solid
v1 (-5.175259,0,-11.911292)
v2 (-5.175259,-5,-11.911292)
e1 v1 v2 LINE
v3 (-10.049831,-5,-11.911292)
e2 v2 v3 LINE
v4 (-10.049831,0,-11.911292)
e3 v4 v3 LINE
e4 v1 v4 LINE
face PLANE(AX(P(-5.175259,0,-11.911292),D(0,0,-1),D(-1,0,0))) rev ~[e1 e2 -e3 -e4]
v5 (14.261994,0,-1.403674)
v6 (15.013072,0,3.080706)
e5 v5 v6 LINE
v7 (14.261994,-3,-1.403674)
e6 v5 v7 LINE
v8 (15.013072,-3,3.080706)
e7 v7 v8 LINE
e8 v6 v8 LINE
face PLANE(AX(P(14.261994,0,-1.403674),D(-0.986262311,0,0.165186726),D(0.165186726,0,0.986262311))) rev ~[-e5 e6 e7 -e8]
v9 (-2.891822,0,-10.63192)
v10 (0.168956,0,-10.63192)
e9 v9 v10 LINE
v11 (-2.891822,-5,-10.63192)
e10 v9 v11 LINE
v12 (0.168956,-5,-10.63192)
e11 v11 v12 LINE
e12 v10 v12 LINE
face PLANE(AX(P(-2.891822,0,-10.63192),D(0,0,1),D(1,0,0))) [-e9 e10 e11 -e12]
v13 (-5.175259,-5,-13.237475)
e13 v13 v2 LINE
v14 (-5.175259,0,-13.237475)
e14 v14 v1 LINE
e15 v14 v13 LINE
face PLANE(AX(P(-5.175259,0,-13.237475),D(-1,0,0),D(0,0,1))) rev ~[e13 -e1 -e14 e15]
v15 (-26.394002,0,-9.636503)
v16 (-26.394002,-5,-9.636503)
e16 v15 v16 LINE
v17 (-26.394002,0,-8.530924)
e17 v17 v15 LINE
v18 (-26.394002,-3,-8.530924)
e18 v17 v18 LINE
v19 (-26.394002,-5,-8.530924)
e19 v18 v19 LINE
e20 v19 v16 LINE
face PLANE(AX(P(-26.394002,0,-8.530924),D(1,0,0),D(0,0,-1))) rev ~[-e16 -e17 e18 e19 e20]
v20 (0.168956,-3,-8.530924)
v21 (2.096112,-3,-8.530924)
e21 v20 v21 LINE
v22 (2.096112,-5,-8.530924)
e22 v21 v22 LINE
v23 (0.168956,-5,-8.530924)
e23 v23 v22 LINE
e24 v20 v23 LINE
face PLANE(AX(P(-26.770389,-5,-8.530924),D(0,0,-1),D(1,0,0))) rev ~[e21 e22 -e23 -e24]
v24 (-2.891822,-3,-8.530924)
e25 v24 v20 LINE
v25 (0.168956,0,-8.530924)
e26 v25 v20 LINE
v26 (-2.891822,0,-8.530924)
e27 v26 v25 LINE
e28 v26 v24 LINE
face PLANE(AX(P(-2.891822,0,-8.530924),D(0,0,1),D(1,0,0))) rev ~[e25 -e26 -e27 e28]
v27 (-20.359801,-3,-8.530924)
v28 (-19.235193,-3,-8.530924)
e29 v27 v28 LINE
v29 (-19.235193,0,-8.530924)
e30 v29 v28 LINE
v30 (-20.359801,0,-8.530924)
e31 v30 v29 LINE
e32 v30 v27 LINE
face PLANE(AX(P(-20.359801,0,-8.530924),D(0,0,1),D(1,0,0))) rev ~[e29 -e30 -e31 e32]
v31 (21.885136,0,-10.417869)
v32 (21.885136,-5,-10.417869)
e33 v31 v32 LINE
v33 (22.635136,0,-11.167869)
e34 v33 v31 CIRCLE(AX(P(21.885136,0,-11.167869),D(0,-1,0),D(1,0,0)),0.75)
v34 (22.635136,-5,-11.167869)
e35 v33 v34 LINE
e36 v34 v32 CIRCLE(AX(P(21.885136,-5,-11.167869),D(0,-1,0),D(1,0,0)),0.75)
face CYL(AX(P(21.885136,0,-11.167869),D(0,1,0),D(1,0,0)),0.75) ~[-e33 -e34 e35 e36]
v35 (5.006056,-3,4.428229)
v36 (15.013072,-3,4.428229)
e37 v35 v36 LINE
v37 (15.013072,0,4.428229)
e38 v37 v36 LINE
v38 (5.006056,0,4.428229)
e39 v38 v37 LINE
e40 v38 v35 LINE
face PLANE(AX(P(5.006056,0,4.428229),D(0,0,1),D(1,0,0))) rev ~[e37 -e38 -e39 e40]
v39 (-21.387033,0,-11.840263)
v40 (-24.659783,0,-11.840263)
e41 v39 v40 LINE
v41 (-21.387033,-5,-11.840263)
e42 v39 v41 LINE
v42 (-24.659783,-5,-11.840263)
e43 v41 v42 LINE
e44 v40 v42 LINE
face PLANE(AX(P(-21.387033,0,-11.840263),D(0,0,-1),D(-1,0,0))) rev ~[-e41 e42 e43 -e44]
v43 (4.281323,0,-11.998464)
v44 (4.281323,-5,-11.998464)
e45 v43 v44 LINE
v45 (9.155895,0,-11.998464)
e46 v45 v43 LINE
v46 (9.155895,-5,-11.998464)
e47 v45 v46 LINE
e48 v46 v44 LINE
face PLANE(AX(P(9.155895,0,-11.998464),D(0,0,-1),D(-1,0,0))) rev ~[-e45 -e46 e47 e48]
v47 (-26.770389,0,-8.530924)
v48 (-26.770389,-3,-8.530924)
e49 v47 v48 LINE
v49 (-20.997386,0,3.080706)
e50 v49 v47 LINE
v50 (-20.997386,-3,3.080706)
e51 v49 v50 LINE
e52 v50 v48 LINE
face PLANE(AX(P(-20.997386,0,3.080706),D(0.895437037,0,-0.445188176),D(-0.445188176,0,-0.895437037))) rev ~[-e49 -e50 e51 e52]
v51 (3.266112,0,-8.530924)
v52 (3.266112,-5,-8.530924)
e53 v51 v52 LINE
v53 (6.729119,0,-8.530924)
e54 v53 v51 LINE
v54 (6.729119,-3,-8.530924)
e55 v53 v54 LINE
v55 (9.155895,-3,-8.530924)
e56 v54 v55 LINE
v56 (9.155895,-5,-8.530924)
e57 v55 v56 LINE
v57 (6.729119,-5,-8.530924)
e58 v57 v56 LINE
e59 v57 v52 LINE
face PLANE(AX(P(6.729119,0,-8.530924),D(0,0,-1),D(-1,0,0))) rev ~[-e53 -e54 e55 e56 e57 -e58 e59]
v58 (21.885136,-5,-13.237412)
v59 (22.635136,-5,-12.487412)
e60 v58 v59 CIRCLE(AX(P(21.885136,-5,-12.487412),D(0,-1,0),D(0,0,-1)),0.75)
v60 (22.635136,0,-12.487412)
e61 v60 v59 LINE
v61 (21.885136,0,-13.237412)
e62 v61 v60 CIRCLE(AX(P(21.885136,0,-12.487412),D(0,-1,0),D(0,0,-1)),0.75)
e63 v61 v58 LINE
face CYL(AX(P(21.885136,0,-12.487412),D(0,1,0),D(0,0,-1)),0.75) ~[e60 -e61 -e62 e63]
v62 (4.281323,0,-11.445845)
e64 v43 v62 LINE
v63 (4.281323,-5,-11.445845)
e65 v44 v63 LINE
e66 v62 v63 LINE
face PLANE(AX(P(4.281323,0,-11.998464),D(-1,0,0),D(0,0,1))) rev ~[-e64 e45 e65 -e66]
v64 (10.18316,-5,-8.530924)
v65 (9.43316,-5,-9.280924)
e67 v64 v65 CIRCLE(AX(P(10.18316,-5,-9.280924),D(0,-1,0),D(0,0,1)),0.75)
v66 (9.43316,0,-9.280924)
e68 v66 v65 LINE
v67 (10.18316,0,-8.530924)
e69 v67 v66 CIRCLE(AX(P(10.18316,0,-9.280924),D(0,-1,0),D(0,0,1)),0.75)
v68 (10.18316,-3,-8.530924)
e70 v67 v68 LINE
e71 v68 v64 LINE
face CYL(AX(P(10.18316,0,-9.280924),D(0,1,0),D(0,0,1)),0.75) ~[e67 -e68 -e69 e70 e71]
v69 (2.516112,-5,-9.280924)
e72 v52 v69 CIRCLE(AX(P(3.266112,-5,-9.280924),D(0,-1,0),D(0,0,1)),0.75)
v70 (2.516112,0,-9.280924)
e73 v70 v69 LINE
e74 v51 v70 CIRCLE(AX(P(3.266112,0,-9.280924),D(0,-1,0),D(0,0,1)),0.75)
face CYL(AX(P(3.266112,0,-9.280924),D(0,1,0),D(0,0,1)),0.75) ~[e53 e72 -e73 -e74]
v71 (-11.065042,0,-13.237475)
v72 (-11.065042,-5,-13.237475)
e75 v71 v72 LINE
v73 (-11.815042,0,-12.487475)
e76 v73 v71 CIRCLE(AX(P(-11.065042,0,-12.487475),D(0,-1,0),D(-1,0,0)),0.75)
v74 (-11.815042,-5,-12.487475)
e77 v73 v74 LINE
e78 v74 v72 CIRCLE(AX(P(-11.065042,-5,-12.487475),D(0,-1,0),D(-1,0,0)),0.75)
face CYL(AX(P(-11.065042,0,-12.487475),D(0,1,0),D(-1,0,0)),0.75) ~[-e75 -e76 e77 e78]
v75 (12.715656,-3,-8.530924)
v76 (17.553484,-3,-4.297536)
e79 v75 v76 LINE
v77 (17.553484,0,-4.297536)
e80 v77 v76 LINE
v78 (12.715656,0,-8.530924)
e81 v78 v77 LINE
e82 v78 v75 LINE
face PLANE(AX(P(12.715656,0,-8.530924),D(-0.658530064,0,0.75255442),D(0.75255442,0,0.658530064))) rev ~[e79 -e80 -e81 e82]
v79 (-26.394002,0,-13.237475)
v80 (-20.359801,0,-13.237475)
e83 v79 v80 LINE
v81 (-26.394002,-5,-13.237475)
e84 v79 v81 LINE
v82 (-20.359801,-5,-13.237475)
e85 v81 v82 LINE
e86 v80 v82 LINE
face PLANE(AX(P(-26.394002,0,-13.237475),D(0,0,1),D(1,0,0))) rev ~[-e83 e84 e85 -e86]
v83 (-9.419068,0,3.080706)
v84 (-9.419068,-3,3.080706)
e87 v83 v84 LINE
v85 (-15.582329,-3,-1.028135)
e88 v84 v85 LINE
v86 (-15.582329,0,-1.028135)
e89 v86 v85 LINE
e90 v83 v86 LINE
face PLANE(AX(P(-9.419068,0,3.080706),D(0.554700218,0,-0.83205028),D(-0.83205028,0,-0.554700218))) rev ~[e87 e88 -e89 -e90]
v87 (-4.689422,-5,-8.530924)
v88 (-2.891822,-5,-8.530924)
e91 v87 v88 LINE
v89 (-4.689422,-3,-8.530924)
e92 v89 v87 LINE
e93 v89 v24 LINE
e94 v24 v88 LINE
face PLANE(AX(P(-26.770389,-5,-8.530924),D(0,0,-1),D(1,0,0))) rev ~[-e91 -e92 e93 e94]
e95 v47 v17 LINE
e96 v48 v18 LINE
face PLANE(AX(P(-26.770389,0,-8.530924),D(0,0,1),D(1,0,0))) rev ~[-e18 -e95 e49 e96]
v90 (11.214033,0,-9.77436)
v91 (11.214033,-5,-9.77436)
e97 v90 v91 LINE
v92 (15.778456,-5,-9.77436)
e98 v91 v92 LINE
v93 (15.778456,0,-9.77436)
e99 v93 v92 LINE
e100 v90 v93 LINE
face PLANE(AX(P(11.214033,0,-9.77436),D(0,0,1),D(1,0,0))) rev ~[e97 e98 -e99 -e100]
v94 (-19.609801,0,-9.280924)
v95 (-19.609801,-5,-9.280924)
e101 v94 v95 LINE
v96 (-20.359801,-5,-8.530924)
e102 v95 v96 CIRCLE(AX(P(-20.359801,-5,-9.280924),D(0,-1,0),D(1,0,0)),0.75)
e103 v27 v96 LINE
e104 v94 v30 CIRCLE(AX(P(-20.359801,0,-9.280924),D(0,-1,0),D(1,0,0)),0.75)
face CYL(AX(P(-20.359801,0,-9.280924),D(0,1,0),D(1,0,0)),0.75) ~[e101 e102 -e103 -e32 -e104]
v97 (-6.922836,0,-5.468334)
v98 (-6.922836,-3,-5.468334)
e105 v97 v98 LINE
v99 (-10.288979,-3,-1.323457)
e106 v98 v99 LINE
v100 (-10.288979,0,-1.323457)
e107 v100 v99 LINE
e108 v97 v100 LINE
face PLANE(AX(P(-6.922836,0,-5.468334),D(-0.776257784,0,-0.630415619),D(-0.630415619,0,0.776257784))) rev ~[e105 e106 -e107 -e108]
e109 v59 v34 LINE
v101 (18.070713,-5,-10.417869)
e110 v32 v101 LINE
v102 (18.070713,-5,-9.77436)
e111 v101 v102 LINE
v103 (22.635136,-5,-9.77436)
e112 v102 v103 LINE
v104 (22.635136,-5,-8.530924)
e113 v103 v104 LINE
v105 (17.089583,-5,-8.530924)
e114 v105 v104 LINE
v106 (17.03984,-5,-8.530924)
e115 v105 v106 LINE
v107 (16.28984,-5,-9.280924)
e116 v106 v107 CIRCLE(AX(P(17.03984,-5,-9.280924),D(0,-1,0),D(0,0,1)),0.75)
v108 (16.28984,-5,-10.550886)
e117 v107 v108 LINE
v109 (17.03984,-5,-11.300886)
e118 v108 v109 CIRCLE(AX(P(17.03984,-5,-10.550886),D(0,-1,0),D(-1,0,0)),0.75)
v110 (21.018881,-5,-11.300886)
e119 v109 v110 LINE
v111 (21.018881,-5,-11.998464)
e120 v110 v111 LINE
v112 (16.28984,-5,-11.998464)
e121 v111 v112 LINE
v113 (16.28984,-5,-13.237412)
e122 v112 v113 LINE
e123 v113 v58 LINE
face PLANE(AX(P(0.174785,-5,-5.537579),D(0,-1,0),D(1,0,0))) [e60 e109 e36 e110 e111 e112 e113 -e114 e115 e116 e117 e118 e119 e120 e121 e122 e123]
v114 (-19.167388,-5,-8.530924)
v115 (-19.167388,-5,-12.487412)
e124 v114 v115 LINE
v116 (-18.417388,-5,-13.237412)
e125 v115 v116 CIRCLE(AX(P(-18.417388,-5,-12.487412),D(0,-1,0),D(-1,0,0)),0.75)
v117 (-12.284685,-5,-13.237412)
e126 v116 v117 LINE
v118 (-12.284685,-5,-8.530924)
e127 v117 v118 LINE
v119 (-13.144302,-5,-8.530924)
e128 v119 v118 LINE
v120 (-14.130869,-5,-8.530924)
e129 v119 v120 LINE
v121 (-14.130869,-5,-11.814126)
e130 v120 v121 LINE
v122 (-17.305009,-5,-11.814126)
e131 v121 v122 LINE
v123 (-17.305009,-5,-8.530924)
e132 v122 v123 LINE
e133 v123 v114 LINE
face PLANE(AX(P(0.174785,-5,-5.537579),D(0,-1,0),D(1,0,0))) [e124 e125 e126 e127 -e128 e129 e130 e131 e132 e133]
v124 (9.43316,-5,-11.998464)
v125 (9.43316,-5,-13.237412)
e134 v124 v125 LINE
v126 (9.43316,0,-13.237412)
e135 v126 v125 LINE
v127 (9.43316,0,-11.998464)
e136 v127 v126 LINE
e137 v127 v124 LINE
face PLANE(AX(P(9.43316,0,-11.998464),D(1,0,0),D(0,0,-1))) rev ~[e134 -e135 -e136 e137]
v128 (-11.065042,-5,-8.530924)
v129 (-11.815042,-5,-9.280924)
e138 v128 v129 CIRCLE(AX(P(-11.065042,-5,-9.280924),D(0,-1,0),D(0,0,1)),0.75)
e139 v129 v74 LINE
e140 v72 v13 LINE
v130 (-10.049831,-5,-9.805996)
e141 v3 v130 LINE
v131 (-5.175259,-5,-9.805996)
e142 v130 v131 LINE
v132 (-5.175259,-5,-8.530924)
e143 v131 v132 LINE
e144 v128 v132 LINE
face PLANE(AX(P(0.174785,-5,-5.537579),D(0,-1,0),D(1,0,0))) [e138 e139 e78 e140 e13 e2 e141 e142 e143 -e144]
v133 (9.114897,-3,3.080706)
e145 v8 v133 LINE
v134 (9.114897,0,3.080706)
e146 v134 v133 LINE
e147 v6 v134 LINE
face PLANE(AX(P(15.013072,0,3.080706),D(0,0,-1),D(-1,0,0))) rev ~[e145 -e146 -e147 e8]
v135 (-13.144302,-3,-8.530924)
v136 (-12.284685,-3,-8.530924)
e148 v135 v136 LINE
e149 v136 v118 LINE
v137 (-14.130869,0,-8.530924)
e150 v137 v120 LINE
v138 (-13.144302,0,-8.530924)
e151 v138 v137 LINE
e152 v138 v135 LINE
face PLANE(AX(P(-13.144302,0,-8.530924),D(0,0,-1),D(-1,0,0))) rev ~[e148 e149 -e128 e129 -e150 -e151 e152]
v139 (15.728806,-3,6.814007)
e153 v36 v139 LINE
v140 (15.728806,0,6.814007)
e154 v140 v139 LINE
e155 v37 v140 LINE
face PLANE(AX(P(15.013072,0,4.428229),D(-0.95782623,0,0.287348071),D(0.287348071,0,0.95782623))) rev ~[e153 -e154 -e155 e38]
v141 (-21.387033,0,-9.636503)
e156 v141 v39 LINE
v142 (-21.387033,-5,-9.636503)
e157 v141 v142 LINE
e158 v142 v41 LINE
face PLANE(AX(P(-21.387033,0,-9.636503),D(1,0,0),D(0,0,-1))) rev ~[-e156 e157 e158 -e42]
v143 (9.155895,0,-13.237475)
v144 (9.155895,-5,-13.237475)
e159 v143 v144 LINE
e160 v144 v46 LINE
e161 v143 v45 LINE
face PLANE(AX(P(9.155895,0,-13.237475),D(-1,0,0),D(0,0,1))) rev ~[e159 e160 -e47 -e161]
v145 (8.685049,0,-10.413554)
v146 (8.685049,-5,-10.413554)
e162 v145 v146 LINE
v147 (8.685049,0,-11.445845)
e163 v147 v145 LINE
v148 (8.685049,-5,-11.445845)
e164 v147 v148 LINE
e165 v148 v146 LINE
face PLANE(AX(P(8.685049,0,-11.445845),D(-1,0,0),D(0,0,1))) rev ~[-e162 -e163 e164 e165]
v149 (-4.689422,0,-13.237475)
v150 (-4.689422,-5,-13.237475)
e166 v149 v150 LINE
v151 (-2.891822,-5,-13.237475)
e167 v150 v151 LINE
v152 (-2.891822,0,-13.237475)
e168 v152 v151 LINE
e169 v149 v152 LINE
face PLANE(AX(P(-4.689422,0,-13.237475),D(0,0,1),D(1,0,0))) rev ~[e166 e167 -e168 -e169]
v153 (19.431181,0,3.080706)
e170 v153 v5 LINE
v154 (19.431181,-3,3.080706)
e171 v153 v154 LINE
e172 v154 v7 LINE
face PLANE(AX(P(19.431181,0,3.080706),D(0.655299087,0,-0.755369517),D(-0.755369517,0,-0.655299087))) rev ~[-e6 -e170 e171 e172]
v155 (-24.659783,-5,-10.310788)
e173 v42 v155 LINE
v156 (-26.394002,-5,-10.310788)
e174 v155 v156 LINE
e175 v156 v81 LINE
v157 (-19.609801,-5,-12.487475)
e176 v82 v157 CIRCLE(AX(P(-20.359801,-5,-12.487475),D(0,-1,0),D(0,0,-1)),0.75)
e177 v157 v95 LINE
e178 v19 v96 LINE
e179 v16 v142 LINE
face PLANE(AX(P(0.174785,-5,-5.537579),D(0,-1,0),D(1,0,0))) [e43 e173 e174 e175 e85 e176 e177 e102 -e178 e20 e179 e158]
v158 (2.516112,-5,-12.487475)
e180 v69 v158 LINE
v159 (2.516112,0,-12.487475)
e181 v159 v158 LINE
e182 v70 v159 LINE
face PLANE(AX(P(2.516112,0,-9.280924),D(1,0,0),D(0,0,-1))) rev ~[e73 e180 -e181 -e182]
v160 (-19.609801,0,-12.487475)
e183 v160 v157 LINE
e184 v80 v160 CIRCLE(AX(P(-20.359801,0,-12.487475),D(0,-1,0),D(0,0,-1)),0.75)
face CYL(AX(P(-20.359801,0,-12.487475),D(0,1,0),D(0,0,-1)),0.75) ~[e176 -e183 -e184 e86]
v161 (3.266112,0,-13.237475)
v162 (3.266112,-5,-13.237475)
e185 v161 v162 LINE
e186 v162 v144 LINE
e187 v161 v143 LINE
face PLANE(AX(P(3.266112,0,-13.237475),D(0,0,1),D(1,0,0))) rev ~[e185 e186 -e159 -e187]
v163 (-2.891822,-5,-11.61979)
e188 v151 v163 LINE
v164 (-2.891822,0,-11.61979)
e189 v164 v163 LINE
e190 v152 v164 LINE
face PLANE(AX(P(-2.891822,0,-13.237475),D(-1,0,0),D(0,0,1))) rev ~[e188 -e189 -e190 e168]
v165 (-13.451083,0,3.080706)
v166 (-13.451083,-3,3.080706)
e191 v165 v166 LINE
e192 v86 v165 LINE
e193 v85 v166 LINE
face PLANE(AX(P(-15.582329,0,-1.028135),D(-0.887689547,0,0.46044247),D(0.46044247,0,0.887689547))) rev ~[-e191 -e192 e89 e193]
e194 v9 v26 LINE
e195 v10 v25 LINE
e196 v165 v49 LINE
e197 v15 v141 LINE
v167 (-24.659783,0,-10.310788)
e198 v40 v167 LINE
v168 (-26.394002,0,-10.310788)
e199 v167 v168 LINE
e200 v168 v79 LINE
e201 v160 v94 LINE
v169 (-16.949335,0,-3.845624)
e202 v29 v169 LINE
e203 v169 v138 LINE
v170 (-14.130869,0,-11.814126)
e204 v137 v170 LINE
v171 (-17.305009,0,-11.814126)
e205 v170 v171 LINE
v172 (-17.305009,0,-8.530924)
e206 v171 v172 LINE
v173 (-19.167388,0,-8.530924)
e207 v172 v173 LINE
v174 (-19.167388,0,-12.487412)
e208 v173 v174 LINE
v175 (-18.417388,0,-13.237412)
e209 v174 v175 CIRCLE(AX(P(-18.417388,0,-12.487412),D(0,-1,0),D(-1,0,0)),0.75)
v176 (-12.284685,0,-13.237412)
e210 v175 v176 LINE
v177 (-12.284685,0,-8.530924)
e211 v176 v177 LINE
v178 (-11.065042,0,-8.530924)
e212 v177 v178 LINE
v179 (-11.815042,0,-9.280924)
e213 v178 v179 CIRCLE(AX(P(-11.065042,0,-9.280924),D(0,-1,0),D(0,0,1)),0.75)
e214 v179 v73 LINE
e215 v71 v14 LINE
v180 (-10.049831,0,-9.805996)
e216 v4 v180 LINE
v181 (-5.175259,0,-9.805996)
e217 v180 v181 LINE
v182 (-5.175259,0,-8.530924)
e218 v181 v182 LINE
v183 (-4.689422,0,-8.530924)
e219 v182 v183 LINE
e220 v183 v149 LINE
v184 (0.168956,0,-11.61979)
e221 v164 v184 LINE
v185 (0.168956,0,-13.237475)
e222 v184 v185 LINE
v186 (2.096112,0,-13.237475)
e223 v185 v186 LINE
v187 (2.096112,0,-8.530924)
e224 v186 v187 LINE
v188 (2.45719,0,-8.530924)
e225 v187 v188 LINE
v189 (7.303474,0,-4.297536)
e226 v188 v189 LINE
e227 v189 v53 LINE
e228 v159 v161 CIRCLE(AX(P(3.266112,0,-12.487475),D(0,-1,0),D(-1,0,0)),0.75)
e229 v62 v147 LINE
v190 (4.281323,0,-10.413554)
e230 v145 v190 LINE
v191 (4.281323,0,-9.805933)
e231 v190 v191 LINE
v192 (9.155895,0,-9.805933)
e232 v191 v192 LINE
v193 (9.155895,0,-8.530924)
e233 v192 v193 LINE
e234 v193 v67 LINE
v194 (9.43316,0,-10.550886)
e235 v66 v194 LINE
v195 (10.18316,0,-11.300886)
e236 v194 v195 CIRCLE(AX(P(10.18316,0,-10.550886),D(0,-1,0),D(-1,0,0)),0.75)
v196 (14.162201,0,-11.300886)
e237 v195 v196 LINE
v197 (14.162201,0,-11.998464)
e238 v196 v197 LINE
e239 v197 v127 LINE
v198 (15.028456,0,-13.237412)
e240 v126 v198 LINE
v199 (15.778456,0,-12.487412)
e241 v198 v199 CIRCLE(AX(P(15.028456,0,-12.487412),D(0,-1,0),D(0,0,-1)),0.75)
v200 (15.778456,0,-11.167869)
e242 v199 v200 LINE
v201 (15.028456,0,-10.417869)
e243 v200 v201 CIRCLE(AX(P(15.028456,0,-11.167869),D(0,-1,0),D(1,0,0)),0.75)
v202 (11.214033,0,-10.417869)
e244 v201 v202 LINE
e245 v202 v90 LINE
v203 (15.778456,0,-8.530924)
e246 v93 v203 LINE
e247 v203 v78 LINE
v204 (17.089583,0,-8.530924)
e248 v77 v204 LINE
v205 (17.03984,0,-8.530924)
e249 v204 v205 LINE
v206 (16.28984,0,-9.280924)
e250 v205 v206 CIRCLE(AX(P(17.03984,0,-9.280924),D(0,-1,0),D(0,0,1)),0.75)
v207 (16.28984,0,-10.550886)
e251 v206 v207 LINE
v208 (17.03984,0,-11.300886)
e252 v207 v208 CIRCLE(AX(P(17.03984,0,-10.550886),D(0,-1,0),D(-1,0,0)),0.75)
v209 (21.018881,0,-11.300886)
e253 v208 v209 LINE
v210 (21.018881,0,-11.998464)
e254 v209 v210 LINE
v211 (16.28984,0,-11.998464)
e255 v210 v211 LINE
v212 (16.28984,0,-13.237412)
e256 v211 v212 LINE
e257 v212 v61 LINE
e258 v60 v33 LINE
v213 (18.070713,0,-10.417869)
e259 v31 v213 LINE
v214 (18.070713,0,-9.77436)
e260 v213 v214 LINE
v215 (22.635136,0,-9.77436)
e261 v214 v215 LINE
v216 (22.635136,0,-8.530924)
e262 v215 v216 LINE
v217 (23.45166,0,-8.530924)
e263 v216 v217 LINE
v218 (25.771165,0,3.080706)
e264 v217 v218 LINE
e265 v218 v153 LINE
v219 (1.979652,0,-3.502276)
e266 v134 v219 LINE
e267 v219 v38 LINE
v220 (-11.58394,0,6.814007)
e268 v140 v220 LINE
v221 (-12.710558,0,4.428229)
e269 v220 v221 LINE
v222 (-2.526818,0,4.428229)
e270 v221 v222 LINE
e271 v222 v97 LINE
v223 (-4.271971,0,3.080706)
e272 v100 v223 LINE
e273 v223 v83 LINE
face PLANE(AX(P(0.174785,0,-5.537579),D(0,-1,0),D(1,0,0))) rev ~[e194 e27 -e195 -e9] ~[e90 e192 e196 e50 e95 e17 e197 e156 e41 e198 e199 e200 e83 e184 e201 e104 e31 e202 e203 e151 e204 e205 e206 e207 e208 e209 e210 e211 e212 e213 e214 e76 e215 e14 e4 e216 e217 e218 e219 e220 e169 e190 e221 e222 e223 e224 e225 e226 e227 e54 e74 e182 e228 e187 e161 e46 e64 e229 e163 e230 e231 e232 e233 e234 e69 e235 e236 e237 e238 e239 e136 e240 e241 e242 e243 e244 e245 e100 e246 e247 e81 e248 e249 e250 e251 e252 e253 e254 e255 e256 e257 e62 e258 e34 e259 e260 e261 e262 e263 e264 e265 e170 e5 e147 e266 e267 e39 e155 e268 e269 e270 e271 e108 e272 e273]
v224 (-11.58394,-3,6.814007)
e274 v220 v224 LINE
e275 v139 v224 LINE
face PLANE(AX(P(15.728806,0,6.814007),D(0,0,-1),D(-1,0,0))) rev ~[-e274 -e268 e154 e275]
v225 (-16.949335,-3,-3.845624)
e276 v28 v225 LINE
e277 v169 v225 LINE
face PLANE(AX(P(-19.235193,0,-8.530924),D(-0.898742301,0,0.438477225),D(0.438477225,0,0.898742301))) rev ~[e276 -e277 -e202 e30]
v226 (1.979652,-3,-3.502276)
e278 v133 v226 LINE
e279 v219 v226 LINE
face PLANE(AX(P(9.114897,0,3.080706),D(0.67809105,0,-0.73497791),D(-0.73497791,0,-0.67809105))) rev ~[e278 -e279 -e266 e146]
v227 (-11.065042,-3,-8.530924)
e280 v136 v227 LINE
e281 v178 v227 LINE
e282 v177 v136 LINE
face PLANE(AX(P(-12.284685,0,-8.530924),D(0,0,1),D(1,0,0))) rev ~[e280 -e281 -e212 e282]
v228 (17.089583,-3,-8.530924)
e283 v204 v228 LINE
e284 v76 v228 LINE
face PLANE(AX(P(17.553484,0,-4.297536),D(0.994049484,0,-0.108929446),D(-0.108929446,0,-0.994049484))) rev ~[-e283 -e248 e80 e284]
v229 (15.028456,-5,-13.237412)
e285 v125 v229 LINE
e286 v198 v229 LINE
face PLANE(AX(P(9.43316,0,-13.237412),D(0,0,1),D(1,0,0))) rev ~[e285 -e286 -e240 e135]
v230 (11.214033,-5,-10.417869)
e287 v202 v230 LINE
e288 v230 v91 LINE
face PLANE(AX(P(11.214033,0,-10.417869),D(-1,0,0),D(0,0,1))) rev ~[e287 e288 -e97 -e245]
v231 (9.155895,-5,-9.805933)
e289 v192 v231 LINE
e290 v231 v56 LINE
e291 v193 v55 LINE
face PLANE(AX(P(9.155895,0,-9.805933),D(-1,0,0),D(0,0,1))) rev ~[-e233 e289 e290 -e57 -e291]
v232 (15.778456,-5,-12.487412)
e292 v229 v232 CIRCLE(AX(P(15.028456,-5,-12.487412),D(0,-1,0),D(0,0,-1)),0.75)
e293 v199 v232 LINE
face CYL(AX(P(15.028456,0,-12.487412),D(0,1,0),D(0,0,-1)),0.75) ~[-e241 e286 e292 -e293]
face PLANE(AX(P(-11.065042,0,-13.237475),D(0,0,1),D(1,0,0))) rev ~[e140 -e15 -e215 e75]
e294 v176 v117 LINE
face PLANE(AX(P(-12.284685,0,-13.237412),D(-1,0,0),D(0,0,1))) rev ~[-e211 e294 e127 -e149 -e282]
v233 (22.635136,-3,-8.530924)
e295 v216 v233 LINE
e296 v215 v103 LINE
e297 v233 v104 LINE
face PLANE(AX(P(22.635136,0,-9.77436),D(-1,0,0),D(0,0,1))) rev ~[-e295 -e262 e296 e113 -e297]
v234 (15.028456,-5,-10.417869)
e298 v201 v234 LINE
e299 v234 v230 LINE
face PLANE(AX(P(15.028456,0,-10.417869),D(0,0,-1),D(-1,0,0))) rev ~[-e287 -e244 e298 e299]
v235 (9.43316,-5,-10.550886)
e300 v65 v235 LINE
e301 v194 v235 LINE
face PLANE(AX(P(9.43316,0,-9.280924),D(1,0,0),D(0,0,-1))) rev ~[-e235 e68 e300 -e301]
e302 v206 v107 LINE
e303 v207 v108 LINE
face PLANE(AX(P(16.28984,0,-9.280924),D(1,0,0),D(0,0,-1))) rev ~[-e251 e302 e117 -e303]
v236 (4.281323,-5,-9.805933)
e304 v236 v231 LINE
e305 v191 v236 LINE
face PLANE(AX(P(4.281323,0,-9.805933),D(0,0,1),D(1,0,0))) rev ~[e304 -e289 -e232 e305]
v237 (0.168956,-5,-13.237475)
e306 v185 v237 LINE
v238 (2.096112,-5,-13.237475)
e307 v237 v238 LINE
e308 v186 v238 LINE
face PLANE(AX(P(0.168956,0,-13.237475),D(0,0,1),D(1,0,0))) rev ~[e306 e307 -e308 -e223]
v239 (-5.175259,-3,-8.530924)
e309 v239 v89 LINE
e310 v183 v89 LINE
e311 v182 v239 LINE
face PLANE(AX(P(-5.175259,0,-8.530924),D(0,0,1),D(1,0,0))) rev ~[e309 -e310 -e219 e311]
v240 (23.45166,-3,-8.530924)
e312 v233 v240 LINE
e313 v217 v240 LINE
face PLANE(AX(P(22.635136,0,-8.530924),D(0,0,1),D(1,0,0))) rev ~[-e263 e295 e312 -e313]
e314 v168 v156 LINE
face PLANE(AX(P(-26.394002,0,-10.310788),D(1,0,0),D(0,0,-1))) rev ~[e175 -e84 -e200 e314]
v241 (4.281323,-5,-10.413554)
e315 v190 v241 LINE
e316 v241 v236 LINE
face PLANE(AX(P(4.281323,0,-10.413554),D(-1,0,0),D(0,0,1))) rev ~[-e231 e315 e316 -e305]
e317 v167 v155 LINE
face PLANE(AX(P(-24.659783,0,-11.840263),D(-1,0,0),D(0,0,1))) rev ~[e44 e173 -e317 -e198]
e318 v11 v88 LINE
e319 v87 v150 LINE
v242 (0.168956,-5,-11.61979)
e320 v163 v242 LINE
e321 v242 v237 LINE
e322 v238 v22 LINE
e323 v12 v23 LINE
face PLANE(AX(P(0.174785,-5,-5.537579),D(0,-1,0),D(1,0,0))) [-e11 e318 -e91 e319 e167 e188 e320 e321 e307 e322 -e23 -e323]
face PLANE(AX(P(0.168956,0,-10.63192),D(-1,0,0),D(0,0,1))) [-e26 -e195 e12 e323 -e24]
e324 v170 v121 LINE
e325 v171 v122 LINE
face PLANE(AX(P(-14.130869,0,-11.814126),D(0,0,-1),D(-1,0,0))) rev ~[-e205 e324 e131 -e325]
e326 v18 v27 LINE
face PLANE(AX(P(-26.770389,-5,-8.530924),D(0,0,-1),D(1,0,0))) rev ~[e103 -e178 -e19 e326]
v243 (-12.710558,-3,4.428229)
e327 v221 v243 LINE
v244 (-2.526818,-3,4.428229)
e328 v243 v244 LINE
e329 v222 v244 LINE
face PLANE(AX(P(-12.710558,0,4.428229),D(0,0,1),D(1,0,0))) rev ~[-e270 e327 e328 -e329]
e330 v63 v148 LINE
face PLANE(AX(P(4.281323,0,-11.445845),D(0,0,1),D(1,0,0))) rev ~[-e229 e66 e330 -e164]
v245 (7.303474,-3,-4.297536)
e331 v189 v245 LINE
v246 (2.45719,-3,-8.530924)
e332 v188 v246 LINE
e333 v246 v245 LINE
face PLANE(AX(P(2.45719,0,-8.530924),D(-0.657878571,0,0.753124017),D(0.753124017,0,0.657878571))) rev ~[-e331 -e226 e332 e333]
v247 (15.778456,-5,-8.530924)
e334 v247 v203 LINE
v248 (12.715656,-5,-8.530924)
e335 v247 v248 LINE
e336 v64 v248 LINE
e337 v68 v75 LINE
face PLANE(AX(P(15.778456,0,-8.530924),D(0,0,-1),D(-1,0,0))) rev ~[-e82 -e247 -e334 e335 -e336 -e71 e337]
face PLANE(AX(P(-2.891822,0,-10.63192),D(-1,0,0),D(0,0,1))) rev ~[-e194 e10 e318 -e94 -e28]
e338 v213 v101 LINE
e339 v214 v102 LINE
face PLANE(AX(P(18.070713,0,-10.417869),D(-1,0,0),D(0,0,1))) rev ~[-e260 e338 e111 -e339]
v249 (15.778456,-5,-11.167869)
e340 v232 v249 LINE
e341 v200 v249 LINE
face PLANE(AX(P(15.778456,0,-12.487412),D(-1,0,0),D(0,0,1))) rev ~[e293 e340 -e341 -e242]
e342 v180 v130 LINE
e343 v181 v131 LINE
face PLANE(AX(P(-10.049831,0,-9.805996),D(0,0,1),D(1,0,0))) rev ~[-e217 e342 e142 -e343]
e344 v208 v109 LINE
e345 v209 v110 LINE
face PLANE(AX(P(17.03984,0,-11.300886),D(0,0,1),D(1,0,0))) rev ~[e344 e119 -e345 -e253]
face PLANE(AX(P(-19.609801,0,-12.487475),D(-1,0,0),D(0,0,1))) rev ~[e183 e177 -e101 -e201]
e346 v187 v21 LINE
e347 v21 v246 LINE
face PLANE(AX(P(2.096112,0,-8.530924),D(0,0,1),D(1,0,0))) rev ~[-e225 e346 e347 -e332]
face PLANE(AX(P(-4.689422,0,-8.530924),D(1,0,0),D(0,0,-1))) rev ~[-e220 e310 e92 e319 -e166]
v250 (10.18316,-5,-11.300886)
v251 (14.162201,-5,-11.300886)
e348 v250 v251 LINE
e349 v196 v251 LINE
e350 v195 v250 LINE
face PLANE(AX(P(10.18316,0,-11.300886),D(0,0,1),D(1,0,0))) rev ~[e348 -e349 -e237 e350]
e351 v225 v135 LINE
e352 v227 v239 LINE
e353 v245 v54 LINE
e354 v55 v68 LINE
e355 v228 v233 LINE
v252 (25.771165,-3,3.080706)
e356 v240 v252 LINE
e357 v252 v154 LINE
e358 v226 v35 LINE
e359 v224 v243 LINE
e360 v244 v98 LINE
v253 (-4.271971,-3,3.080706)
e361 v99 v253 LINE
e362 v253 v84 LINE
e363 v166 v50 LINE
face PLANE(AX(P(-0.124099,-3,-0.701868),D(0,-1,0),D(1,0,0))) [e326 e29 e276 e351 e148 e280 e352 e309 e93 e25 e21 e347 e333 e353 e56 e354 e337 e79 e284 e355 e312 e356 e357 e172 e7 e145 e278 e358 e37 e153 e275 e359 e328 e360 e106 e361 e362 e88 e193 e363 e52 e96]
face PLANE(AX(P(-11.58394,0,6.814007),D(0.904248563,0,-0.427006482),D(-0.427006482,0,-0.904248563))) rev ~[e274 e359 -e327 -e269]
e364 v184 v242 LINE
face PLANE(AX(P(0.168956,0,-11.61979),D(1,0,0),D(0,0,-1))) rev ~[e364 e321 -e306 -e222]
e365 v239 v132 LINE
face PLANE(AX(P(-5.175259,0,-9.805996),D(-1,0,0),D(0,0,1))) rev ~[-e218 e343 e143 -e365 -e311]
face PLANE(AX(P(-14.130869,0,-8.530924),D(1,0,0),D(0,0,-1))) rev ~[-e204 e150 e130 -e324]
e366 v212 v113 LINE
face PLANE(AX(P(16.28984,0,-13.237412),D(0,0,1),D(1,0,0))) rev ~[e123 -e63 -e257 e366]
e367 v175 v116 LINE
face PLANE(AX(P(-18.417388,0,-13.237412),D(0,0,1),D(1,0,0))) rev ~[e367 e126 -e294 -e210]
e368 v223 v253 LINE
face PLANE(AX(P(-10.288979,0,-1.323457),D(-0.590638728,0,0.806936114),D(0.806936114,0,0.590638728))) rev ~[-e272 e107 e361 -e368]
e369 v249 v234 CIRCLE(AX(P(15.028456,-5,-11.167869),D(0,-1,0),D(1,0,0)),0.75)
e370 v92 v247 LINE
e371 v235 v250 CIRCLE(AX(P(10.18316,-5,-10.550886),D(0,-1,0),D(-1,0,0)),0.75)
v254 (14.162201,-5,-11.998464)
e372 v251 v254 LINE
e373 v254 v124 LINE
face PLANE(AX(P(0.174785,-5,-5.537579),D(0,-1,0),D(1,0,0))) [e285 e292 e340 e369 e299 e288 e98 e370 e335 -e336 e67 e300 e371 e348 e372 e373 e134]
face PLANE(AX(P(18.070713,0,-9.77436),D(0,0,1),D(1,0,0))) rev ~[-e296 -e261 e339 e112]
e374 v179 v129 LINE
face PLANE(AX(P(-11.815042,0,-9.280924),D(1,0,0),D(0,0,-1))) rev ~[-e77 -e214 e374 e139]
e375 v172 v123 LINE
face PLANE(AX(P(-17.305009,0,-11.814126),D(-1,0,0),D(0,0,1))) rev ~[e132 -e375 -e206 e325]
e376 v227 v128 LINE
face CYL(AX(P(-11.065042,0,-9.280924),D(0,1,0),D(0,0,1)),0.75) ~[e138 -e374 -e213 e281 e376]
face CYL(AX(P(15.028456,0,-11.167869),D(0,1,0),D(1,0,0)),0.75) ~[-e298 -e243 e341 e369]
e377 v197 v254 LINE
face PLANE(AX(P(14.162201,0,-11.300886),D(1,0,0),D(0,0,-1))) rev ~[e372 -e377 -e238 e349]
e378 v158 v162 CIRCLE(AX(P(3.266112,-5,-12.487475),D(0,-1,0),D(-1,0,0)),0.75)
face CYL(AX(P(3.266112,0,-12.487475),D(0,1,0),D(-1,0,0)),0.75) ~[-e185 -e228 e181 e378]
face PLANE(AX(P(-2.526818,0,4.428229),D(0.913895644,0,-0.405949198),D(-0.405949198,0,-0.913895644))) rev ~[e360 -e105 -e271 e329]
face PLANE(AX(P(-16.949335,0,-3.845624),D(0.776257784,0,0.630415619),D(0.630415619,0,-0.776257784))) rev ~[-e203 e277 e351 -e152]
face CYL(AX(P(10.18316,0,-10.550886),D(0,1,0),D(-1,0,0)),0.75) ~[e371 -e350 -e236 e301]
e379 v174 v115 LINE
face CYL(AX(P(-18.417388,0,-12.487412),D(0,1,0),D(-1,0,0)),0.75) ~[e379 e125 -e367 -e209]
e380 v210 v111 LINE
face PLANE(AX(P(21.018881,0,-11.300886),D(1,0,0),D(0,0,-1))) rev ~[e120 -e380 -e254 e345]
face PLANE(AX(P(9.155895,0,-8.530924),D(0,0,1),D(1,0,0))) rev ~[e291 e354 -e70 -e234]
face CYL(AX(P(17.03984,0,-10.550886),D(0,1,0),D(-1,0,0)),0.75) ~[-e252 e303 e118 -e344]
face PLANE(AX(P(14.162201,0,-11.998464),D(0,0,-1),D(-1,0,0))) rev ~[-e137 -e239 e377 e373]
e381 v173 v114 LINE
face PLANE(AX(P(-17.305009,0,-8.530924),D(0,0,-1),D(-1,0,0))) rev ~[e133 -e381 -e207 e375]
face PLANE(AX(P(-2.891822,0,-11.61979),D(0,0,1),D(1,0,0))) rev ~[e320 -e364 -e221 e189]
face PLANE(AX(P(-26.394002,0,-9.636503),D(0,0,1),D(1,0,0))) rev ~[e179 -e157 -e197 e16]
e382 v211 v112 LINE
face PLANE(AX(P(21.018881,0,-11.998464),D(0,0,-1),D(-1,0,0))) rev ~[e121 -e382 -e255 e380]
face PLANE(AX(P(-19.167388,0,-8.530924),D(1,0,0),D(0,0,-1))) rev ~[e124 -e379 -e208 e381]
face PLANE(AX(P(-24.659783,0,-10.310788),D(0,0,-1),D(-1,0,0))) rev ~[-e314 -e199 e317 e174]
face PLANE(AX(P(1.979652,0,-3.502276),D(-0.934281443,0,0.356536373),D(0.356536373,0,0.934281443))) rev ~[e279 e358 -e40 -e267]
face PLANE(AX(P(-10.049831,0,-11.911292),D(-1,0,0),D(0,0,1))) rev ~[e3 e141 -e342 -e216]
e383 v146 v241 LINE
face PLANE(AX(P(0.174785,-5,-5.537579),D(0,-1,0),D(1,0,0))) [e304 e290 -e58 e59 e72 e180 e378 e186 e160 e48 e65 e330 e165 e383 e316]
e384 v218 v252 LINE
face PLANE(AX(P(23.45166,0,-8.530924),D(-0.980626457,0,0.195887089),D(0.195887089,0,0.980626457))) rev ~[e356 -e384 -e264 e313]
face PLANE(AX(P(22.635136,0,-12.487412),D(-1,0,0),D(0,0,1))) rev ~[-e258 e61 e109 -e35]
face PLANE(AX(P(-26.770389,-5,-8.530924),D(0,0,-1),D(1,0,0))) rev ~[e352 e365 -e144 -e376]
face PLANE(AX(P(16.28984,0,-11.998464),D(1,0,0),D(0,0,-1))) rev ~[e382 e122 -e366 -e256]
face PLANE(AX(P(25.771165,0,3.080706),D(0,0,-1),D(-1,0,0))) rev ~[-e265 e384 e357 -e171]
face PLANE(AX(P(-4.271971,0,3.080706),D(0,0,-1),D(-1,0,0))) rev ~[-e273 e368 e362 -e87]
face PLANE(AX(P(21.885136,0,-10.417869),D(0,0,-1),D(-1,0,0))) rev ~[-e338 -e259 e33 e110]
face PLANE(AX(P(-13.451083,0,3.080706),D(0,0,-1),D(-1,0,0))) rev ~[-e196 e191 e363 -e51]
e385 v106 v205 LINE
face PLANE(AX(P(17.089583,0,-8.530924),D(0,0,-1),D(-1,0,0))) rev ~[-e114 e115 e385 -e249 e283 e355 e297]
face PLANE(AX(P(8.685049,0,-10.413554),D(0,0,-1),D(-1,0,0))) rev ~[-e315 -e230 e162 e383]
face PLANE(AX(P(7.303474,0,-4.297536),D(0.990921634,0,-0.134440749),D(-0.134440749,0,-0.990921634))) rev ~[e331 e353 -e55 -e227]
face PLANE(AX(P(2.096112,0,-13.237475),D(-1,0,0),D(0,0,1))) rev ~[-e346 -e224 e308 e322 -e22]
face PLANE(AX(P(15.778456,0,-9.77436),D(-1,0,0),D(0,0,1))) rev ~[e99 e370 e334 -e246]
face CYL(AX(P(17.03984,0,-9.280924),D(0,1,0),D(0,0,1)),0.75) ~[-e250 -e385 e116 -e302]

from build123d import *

# Parameters (mm, degrees)
F0_W     = 3.0607780209
F0_H     = 2.1009956449
F1_DEPTH = 5
F2_W     = 53.2925797864
F2_H     = 15.6581131741
F3_DEPTH = 2


with BuildPart() as f1:
    # F0 (on Front) → F1 (new body)
    with BuildSketch(Plane.XZ):
        with BuildLine():
            Line((-13.4510826319, 3.0807058793), (-20.9973859143, 3.0807058793))
            Line((-20.9973859143, 3.0807058793), (-26.770388545, -8.5309240967))
            Line((-26.770388545, -8.5309240967), (-26.3940021396, -8.5309240967))
            Line((-26.3940021396, -8.5309240967), (-26.3940021396, -9.6365026161))
            Line((-26.3940021396, -9.6365026161), (-21.3870331645, -9.6365026161))
            Line((-21.3870331645, -9.6365026161), (-21.3870331645, -11.8402632847))
            Line((-21.3870331645, -11.8402632847), (-24.6597826481, -11.8402632847))
            Line((-24.6597826481, -11.8402632847), (-24.6597826481, -10.3107876107))
            Line((-24.6597826481, -10.3107876107), (-26.3940021396, -10.3107876107))
            Line((-26.3940021396, -10.3107876107), (-26.3940021396, -13.2374753207))
            Line((-26.3940021396, -13.2374753207), (-20.359800871, -13.2374753207))
            ThreePointArc((-20.359800871, -13.2374753207), (-19.8294707851, -13.0178054066), (-19.609800871, -12.4874753207))
            Line((-19.609800871, -12.4874753207), (-19.609800871, -9.2809240967))
            ThreePointArc((-19.609800871, -9.2809240967), (-19.8294707851, -8.7505940108), (-20.359800871, -8.5309240967))
            Line((-20.359800871, -8.5309240967), (-19.2351932671, -8.5309240967))
            Line((-19.2351932671, -8.5309240967), (-16.9493351132, -3.8456239272))
            Line((-16.9493351132, -3.8456239272), (-13.144302211, -8.5309240967))
            Line((-13.144302211, -8.5309240967), (-14.130868949, -8.5309240967))
            Line((-14.130868949, -8.5309240967), (-14.130868949, -11.8141257167))
            Line((-14.130868949, -11.8141257167), (-17.3050090671, -11.8141257167))
            Line((-17.3050090671, -11.8141257167), (-17.3050090671, -8.5309240967))
            Line((-17.3050090671, -8.5309240967), (-19.167387858, -8.5309240967))
            Line((-19.167387858, -8.5309240967), (-19.167387858, -12.4874120876))
            ThreePointArc((-19.167387858, -12.4874120876), (-18.9477179439, -13.0177421735), (-18.417387858, -13.2374120876))
            Line((-18.417387858, -13.2374120876), (-12.2846849263, -13.2374120876))
            Line((-12.2846849263, -13.2374120876), (-12.2846849263, -8.5309240967))
            Line((-12.2846849263, -8.5309240967), (-11.065042235, -8.5309240967))
            ThreePointArc((-11.065042235, -8.5309240967), (-11.5953723208, -8.7505940108), (-11.815042235, -9.2809240967))
            Line((-11.815042235, -9.2809240967), (-11.815042235, -12.4874753207))
            ThreePointArc((-11.815042235, -12.4874753207), (-11.5953723208, -13.0178054066), (-11.065042235, -13.2374753207))
            Line((-11.065042235, -13.2374753207), (-5.1752589643, -13.2374753207))
            Line((-5.1752589643, -13.2374753207), (-5.1752589643, -11.9112924635))
            Line((-5.1752589643, -11.9112924635), (-10.0498311222, -11.9112924635))
            Line((-10.0498311222, -11.9112924635), (-10.0498311222, -9.8059958741))
            Line((-10.0498311222, -9.8059958741), (-5.1752589643, -9.8059958741))
            Line((-5.1752589643, -9.8059958741), (-5.1752589643, -8.5309240967))
            Line((-5.1752589643, -8.5309240967), (-4.6894219704, -8.5309240967))
            Line((-4.6894219704, -8.5309240967), (-4.6894219704, -13.2374753207))
            Line((-4.6894219704, -13.2374753207), (-2.891822136, -13.2374753207))
            Line((-2.891822136, -13.2374753207), (-2.891822136, -11.6197903603))
            Line((-2.891822136, -11.6197903603), (0.1689558849, -11.6197903603))
            Line((0.1689558849, -11.6197903603), (0.1689558849, -13.2374753207))
            Line((0.1689558849, -13.2374753207), (2.096112119, -13.2374753207))
            Line((2.096112119, -13.2374753207), (2.096112119, -8.5309240967))
            Line((2.096112119, -8.5309240967), (2.4571896065, -8.5309240967))
            Line((2.4571896065, -8.5309240967), (7.3034735397, -4.2975358665))
            Line((7.3034735397, -4.2975358665), (6.7291194573, -8.5309240967))
            Line((6.7291194573, -8.5309240967), (3.2661118247, -8.5309240967))
            ThreePointArc((3.2661118247, -8.5309240967), (2.7357817388, -8.7505940108), (2.5161118247, -9.2809240967))
            Line((2.5161118247, -9.2809240967), (2.5161118247, -12.4874753207))
            ThreePointArc((2.5161118247, -12.4874753207), (2.7357817388, -13.0178054066), (3.2661118247, -13.2374753207))
            Line((3.2661118247, -13.2374753207), (9.1558950953, -13.2374753207))
            Line((9.1558950953, -13.2374753207), (9.1558950953, -11.9984643534))
            Line((9.1558950953, -11.9984643534), (4.2813229375, -11.9984643534))
            Line((4.2813229375, -11.9984643534), (4.2813229375, -11.445844546))
            Line((4.2813229375, -11.445844546), (8.6850486696, -11.445844546))
            Line((8.6850486696, -11.445844546), (8.6850486696, -10.4135535657))
            Line((8.6850486696, -10.4135535657), (4.2813229375, -10.4135535657))
            Line((4.2813229375, -10.4135535657), (4.2813229375, -9.805932641))
            Line((4.2813229375, -9.805932641), (9.1558950953, -9.805932641))
            Line((9.1558950953, -9.805932641), (9.1558950953, -8.5309240967))
            Line((9.1558950953, -8.5309240967), (10.1831596047, -8.5309240967))
            ThreePointArc((10.1831596047, -8.5309240967), (9.6528295188, -8.7505940108), (9.4331596047, -9.2809240967))
            Line((9.4331596047, -9.2809240967), (9.4331596047, -10.550885953))
            ThreePointArc((9.4331596047, -10.550885953), (9.6528295188, -11.0812160389), (10.1831596047, -11.300885953))
            Line((10.1831596047, -11.300885953), (14.1622014344, -11.300885953))
            Line((14.1622014344, -11.300885953), (14.1622014344, -11.9984643534))
            Line((14.1622014344, -11.9984643534), (9.4331596047, -11.9984643534))
            Line((9.4331596047, -11.9984643534), (9.4331596047, -13.2374120876))
            Line((9.4331596047, -13.2374120876), (15.0284558833, -13.2374120876))
            ThreePointArc((15.0284558833, -13.2374120876), (15.5587859692, -13.0177421735), (15.7784558833, -12.4874120876))
            Line((15.7784558833, -12.4874120876), (15.7784558833, -11.1678693146))
            ThreePointArc((15.7784558833, -11.1678693146), (15.5587859692, -10.6375392287), (15.0284558833, -10.4178693146))
            Line((15.0284558833, -10.4178693146), (11.2140327692, -10.4178693146))
            Line((11.2140327692, -10.4178693146), (11.2140327692, -9.7743598744))
            Line((11.2140327692, -9.7743598744), (15.7784558833, -9.7743598744))
            Line((15.7784558833, -9.7743598744), (15.7784558833, -8.5309240967))
            Line((15.7784558833, -8.5309240967), (12.7156563103, -8.5309240967))
            Line((12.7156563103, -8.5309240967), (17.5534840673, -4.2975358665))
            Line((17.5534840673, -4.2975358665), (17.0895829797, -8.5309240967))
            Line((17.0895829797, -8.5309240967), (17.0398395211, -8.5309240967))
            ThreePointArc((17.0398395211, -8.5309240967), (16.5095094352, -8.7505940108), (16.2898395211, -9.2809240967))
            Line((16.2898395211, -9.2809240967), (16.2898395211, -10.550885953))
            ThreePointArc((16.2898395211, -10.550885953), (16.5095094352, -11.0812160389), (17.0398395211, -11.300885953))
            Line((17.0398395211, -11.300885953), (21.0188813508, -11.300885953))
            Line((21.0188813508, -11.300885953), (21.0188813508, -11.9984643534))
            Line((21.0188813508, -11.9984643534), (16.2898395211, -11.9984643534))
            Line((16.2898395211, -11.9984643534), (16.2898395211, -13.2374120876))
            Line((16.2898395211, -13.2374120876), (21.8851357996, -13.2374120876))
            ThreePointArc((21.8851357996, -13.2374120876), (22.4154658855, -13.0177421735), (22.6351357996, -12.4874120876))
            Line((22.6351357996, -12.4874120876), (22.6351357996, -11.1678693146))
            ThreePointArc((22.6351357996, -11.1678693146), (22.4154658855, -10.6375392287), (21.8851357996, -10.4178693146))
            Line((21.8851357996, -10.4178693146), (18.0707126856, -10.4178693146))
            Line((18.0707126856, -10.4178693146), (18.0707126856, -9.7743598744))
            Line((18.0707126856, -9.7743598744), (22.6351357996, -9.7743598744))
            Line((22.6351357996, -9.7743598744), (22.6351357996, -8.5309240967))
            Line((22.6351357996, -8.5309240967), (23.4516598284, -8.5309240967))
            Line((23.4516598284, -8.5309240967), (25.7711652666, 3.0807058793))
            Line((25.7711652666, 3.0807058793), (19.431181252, 3.0807058793))
            Line((19.431181252, 3.0807058793), (14.2619935796, -1.4036741341))
            Line((14.2619935796, -1.4036741341), (15.0130717084, 3.0807058793))
            Line((15.0130717084, 3.0807058793), (9.1148968786, 3.0807058793))
            Line((9.1148968786, 3.0807058793), (1.9796516281, -3.5022755619))
            Line((1.9796516281, -3.5022755619), (5.0060558133, 4.4282288291))
            Line((5.0060558133, 4.4282288291), (15.0130717084, 4.4282288291))
            Line((15.0130717084, 4.4282288291), (15.7288057171, 6.8140071817))
            Line((15.7288057171, 6.8140071817), (-11.583940126, 6.8140071817))
            Line((-11.583940126, 6.8140071817), (-12.7105582505, 4.4282288291))
            Line((-12.7105582505, 4.4282288291), (-2.5268180761, 4.4282288291))
            Line((-2.5268180761, 4.4282288291), (-6.9228359498, -5.4683336057))
            Line((-6.9228359498, -5.4683336057), (-10.288979272, -1.3234569953))
            Line((-10.288979272, -1.3234569953), (-4.2719710618, 3.0807058793))
            Line((-4.2719710618, 3.0807058793), (-9.4190677628, 3.0807058793))
            Line((-9.4190677628, 3.0807058793), (-15.5823286623, -1.0281349532))
            Line((-15.5823286623, -1.0281349532), (-13.4510826319, 3.0807058793))
        make_face()
        with Locations((-1.3614331256, -9.5814219192)):
            Rectangle(F0_W, F0_H, mode=Mode.SUBTRACT)
    extrude(amount=F1_DEPTH)

    # F2 (on face) → F3 (cut)
    with BuildSketch(Plane.XZ.offset(5)):
        with Locations((-0.1240986518, -0.7018675096)):
            Rectangle(F2_W, F2_H)
    extrude(amount=-F3_DEPTH, mode=Mode.SUBTRACT)


solid = f1.part
